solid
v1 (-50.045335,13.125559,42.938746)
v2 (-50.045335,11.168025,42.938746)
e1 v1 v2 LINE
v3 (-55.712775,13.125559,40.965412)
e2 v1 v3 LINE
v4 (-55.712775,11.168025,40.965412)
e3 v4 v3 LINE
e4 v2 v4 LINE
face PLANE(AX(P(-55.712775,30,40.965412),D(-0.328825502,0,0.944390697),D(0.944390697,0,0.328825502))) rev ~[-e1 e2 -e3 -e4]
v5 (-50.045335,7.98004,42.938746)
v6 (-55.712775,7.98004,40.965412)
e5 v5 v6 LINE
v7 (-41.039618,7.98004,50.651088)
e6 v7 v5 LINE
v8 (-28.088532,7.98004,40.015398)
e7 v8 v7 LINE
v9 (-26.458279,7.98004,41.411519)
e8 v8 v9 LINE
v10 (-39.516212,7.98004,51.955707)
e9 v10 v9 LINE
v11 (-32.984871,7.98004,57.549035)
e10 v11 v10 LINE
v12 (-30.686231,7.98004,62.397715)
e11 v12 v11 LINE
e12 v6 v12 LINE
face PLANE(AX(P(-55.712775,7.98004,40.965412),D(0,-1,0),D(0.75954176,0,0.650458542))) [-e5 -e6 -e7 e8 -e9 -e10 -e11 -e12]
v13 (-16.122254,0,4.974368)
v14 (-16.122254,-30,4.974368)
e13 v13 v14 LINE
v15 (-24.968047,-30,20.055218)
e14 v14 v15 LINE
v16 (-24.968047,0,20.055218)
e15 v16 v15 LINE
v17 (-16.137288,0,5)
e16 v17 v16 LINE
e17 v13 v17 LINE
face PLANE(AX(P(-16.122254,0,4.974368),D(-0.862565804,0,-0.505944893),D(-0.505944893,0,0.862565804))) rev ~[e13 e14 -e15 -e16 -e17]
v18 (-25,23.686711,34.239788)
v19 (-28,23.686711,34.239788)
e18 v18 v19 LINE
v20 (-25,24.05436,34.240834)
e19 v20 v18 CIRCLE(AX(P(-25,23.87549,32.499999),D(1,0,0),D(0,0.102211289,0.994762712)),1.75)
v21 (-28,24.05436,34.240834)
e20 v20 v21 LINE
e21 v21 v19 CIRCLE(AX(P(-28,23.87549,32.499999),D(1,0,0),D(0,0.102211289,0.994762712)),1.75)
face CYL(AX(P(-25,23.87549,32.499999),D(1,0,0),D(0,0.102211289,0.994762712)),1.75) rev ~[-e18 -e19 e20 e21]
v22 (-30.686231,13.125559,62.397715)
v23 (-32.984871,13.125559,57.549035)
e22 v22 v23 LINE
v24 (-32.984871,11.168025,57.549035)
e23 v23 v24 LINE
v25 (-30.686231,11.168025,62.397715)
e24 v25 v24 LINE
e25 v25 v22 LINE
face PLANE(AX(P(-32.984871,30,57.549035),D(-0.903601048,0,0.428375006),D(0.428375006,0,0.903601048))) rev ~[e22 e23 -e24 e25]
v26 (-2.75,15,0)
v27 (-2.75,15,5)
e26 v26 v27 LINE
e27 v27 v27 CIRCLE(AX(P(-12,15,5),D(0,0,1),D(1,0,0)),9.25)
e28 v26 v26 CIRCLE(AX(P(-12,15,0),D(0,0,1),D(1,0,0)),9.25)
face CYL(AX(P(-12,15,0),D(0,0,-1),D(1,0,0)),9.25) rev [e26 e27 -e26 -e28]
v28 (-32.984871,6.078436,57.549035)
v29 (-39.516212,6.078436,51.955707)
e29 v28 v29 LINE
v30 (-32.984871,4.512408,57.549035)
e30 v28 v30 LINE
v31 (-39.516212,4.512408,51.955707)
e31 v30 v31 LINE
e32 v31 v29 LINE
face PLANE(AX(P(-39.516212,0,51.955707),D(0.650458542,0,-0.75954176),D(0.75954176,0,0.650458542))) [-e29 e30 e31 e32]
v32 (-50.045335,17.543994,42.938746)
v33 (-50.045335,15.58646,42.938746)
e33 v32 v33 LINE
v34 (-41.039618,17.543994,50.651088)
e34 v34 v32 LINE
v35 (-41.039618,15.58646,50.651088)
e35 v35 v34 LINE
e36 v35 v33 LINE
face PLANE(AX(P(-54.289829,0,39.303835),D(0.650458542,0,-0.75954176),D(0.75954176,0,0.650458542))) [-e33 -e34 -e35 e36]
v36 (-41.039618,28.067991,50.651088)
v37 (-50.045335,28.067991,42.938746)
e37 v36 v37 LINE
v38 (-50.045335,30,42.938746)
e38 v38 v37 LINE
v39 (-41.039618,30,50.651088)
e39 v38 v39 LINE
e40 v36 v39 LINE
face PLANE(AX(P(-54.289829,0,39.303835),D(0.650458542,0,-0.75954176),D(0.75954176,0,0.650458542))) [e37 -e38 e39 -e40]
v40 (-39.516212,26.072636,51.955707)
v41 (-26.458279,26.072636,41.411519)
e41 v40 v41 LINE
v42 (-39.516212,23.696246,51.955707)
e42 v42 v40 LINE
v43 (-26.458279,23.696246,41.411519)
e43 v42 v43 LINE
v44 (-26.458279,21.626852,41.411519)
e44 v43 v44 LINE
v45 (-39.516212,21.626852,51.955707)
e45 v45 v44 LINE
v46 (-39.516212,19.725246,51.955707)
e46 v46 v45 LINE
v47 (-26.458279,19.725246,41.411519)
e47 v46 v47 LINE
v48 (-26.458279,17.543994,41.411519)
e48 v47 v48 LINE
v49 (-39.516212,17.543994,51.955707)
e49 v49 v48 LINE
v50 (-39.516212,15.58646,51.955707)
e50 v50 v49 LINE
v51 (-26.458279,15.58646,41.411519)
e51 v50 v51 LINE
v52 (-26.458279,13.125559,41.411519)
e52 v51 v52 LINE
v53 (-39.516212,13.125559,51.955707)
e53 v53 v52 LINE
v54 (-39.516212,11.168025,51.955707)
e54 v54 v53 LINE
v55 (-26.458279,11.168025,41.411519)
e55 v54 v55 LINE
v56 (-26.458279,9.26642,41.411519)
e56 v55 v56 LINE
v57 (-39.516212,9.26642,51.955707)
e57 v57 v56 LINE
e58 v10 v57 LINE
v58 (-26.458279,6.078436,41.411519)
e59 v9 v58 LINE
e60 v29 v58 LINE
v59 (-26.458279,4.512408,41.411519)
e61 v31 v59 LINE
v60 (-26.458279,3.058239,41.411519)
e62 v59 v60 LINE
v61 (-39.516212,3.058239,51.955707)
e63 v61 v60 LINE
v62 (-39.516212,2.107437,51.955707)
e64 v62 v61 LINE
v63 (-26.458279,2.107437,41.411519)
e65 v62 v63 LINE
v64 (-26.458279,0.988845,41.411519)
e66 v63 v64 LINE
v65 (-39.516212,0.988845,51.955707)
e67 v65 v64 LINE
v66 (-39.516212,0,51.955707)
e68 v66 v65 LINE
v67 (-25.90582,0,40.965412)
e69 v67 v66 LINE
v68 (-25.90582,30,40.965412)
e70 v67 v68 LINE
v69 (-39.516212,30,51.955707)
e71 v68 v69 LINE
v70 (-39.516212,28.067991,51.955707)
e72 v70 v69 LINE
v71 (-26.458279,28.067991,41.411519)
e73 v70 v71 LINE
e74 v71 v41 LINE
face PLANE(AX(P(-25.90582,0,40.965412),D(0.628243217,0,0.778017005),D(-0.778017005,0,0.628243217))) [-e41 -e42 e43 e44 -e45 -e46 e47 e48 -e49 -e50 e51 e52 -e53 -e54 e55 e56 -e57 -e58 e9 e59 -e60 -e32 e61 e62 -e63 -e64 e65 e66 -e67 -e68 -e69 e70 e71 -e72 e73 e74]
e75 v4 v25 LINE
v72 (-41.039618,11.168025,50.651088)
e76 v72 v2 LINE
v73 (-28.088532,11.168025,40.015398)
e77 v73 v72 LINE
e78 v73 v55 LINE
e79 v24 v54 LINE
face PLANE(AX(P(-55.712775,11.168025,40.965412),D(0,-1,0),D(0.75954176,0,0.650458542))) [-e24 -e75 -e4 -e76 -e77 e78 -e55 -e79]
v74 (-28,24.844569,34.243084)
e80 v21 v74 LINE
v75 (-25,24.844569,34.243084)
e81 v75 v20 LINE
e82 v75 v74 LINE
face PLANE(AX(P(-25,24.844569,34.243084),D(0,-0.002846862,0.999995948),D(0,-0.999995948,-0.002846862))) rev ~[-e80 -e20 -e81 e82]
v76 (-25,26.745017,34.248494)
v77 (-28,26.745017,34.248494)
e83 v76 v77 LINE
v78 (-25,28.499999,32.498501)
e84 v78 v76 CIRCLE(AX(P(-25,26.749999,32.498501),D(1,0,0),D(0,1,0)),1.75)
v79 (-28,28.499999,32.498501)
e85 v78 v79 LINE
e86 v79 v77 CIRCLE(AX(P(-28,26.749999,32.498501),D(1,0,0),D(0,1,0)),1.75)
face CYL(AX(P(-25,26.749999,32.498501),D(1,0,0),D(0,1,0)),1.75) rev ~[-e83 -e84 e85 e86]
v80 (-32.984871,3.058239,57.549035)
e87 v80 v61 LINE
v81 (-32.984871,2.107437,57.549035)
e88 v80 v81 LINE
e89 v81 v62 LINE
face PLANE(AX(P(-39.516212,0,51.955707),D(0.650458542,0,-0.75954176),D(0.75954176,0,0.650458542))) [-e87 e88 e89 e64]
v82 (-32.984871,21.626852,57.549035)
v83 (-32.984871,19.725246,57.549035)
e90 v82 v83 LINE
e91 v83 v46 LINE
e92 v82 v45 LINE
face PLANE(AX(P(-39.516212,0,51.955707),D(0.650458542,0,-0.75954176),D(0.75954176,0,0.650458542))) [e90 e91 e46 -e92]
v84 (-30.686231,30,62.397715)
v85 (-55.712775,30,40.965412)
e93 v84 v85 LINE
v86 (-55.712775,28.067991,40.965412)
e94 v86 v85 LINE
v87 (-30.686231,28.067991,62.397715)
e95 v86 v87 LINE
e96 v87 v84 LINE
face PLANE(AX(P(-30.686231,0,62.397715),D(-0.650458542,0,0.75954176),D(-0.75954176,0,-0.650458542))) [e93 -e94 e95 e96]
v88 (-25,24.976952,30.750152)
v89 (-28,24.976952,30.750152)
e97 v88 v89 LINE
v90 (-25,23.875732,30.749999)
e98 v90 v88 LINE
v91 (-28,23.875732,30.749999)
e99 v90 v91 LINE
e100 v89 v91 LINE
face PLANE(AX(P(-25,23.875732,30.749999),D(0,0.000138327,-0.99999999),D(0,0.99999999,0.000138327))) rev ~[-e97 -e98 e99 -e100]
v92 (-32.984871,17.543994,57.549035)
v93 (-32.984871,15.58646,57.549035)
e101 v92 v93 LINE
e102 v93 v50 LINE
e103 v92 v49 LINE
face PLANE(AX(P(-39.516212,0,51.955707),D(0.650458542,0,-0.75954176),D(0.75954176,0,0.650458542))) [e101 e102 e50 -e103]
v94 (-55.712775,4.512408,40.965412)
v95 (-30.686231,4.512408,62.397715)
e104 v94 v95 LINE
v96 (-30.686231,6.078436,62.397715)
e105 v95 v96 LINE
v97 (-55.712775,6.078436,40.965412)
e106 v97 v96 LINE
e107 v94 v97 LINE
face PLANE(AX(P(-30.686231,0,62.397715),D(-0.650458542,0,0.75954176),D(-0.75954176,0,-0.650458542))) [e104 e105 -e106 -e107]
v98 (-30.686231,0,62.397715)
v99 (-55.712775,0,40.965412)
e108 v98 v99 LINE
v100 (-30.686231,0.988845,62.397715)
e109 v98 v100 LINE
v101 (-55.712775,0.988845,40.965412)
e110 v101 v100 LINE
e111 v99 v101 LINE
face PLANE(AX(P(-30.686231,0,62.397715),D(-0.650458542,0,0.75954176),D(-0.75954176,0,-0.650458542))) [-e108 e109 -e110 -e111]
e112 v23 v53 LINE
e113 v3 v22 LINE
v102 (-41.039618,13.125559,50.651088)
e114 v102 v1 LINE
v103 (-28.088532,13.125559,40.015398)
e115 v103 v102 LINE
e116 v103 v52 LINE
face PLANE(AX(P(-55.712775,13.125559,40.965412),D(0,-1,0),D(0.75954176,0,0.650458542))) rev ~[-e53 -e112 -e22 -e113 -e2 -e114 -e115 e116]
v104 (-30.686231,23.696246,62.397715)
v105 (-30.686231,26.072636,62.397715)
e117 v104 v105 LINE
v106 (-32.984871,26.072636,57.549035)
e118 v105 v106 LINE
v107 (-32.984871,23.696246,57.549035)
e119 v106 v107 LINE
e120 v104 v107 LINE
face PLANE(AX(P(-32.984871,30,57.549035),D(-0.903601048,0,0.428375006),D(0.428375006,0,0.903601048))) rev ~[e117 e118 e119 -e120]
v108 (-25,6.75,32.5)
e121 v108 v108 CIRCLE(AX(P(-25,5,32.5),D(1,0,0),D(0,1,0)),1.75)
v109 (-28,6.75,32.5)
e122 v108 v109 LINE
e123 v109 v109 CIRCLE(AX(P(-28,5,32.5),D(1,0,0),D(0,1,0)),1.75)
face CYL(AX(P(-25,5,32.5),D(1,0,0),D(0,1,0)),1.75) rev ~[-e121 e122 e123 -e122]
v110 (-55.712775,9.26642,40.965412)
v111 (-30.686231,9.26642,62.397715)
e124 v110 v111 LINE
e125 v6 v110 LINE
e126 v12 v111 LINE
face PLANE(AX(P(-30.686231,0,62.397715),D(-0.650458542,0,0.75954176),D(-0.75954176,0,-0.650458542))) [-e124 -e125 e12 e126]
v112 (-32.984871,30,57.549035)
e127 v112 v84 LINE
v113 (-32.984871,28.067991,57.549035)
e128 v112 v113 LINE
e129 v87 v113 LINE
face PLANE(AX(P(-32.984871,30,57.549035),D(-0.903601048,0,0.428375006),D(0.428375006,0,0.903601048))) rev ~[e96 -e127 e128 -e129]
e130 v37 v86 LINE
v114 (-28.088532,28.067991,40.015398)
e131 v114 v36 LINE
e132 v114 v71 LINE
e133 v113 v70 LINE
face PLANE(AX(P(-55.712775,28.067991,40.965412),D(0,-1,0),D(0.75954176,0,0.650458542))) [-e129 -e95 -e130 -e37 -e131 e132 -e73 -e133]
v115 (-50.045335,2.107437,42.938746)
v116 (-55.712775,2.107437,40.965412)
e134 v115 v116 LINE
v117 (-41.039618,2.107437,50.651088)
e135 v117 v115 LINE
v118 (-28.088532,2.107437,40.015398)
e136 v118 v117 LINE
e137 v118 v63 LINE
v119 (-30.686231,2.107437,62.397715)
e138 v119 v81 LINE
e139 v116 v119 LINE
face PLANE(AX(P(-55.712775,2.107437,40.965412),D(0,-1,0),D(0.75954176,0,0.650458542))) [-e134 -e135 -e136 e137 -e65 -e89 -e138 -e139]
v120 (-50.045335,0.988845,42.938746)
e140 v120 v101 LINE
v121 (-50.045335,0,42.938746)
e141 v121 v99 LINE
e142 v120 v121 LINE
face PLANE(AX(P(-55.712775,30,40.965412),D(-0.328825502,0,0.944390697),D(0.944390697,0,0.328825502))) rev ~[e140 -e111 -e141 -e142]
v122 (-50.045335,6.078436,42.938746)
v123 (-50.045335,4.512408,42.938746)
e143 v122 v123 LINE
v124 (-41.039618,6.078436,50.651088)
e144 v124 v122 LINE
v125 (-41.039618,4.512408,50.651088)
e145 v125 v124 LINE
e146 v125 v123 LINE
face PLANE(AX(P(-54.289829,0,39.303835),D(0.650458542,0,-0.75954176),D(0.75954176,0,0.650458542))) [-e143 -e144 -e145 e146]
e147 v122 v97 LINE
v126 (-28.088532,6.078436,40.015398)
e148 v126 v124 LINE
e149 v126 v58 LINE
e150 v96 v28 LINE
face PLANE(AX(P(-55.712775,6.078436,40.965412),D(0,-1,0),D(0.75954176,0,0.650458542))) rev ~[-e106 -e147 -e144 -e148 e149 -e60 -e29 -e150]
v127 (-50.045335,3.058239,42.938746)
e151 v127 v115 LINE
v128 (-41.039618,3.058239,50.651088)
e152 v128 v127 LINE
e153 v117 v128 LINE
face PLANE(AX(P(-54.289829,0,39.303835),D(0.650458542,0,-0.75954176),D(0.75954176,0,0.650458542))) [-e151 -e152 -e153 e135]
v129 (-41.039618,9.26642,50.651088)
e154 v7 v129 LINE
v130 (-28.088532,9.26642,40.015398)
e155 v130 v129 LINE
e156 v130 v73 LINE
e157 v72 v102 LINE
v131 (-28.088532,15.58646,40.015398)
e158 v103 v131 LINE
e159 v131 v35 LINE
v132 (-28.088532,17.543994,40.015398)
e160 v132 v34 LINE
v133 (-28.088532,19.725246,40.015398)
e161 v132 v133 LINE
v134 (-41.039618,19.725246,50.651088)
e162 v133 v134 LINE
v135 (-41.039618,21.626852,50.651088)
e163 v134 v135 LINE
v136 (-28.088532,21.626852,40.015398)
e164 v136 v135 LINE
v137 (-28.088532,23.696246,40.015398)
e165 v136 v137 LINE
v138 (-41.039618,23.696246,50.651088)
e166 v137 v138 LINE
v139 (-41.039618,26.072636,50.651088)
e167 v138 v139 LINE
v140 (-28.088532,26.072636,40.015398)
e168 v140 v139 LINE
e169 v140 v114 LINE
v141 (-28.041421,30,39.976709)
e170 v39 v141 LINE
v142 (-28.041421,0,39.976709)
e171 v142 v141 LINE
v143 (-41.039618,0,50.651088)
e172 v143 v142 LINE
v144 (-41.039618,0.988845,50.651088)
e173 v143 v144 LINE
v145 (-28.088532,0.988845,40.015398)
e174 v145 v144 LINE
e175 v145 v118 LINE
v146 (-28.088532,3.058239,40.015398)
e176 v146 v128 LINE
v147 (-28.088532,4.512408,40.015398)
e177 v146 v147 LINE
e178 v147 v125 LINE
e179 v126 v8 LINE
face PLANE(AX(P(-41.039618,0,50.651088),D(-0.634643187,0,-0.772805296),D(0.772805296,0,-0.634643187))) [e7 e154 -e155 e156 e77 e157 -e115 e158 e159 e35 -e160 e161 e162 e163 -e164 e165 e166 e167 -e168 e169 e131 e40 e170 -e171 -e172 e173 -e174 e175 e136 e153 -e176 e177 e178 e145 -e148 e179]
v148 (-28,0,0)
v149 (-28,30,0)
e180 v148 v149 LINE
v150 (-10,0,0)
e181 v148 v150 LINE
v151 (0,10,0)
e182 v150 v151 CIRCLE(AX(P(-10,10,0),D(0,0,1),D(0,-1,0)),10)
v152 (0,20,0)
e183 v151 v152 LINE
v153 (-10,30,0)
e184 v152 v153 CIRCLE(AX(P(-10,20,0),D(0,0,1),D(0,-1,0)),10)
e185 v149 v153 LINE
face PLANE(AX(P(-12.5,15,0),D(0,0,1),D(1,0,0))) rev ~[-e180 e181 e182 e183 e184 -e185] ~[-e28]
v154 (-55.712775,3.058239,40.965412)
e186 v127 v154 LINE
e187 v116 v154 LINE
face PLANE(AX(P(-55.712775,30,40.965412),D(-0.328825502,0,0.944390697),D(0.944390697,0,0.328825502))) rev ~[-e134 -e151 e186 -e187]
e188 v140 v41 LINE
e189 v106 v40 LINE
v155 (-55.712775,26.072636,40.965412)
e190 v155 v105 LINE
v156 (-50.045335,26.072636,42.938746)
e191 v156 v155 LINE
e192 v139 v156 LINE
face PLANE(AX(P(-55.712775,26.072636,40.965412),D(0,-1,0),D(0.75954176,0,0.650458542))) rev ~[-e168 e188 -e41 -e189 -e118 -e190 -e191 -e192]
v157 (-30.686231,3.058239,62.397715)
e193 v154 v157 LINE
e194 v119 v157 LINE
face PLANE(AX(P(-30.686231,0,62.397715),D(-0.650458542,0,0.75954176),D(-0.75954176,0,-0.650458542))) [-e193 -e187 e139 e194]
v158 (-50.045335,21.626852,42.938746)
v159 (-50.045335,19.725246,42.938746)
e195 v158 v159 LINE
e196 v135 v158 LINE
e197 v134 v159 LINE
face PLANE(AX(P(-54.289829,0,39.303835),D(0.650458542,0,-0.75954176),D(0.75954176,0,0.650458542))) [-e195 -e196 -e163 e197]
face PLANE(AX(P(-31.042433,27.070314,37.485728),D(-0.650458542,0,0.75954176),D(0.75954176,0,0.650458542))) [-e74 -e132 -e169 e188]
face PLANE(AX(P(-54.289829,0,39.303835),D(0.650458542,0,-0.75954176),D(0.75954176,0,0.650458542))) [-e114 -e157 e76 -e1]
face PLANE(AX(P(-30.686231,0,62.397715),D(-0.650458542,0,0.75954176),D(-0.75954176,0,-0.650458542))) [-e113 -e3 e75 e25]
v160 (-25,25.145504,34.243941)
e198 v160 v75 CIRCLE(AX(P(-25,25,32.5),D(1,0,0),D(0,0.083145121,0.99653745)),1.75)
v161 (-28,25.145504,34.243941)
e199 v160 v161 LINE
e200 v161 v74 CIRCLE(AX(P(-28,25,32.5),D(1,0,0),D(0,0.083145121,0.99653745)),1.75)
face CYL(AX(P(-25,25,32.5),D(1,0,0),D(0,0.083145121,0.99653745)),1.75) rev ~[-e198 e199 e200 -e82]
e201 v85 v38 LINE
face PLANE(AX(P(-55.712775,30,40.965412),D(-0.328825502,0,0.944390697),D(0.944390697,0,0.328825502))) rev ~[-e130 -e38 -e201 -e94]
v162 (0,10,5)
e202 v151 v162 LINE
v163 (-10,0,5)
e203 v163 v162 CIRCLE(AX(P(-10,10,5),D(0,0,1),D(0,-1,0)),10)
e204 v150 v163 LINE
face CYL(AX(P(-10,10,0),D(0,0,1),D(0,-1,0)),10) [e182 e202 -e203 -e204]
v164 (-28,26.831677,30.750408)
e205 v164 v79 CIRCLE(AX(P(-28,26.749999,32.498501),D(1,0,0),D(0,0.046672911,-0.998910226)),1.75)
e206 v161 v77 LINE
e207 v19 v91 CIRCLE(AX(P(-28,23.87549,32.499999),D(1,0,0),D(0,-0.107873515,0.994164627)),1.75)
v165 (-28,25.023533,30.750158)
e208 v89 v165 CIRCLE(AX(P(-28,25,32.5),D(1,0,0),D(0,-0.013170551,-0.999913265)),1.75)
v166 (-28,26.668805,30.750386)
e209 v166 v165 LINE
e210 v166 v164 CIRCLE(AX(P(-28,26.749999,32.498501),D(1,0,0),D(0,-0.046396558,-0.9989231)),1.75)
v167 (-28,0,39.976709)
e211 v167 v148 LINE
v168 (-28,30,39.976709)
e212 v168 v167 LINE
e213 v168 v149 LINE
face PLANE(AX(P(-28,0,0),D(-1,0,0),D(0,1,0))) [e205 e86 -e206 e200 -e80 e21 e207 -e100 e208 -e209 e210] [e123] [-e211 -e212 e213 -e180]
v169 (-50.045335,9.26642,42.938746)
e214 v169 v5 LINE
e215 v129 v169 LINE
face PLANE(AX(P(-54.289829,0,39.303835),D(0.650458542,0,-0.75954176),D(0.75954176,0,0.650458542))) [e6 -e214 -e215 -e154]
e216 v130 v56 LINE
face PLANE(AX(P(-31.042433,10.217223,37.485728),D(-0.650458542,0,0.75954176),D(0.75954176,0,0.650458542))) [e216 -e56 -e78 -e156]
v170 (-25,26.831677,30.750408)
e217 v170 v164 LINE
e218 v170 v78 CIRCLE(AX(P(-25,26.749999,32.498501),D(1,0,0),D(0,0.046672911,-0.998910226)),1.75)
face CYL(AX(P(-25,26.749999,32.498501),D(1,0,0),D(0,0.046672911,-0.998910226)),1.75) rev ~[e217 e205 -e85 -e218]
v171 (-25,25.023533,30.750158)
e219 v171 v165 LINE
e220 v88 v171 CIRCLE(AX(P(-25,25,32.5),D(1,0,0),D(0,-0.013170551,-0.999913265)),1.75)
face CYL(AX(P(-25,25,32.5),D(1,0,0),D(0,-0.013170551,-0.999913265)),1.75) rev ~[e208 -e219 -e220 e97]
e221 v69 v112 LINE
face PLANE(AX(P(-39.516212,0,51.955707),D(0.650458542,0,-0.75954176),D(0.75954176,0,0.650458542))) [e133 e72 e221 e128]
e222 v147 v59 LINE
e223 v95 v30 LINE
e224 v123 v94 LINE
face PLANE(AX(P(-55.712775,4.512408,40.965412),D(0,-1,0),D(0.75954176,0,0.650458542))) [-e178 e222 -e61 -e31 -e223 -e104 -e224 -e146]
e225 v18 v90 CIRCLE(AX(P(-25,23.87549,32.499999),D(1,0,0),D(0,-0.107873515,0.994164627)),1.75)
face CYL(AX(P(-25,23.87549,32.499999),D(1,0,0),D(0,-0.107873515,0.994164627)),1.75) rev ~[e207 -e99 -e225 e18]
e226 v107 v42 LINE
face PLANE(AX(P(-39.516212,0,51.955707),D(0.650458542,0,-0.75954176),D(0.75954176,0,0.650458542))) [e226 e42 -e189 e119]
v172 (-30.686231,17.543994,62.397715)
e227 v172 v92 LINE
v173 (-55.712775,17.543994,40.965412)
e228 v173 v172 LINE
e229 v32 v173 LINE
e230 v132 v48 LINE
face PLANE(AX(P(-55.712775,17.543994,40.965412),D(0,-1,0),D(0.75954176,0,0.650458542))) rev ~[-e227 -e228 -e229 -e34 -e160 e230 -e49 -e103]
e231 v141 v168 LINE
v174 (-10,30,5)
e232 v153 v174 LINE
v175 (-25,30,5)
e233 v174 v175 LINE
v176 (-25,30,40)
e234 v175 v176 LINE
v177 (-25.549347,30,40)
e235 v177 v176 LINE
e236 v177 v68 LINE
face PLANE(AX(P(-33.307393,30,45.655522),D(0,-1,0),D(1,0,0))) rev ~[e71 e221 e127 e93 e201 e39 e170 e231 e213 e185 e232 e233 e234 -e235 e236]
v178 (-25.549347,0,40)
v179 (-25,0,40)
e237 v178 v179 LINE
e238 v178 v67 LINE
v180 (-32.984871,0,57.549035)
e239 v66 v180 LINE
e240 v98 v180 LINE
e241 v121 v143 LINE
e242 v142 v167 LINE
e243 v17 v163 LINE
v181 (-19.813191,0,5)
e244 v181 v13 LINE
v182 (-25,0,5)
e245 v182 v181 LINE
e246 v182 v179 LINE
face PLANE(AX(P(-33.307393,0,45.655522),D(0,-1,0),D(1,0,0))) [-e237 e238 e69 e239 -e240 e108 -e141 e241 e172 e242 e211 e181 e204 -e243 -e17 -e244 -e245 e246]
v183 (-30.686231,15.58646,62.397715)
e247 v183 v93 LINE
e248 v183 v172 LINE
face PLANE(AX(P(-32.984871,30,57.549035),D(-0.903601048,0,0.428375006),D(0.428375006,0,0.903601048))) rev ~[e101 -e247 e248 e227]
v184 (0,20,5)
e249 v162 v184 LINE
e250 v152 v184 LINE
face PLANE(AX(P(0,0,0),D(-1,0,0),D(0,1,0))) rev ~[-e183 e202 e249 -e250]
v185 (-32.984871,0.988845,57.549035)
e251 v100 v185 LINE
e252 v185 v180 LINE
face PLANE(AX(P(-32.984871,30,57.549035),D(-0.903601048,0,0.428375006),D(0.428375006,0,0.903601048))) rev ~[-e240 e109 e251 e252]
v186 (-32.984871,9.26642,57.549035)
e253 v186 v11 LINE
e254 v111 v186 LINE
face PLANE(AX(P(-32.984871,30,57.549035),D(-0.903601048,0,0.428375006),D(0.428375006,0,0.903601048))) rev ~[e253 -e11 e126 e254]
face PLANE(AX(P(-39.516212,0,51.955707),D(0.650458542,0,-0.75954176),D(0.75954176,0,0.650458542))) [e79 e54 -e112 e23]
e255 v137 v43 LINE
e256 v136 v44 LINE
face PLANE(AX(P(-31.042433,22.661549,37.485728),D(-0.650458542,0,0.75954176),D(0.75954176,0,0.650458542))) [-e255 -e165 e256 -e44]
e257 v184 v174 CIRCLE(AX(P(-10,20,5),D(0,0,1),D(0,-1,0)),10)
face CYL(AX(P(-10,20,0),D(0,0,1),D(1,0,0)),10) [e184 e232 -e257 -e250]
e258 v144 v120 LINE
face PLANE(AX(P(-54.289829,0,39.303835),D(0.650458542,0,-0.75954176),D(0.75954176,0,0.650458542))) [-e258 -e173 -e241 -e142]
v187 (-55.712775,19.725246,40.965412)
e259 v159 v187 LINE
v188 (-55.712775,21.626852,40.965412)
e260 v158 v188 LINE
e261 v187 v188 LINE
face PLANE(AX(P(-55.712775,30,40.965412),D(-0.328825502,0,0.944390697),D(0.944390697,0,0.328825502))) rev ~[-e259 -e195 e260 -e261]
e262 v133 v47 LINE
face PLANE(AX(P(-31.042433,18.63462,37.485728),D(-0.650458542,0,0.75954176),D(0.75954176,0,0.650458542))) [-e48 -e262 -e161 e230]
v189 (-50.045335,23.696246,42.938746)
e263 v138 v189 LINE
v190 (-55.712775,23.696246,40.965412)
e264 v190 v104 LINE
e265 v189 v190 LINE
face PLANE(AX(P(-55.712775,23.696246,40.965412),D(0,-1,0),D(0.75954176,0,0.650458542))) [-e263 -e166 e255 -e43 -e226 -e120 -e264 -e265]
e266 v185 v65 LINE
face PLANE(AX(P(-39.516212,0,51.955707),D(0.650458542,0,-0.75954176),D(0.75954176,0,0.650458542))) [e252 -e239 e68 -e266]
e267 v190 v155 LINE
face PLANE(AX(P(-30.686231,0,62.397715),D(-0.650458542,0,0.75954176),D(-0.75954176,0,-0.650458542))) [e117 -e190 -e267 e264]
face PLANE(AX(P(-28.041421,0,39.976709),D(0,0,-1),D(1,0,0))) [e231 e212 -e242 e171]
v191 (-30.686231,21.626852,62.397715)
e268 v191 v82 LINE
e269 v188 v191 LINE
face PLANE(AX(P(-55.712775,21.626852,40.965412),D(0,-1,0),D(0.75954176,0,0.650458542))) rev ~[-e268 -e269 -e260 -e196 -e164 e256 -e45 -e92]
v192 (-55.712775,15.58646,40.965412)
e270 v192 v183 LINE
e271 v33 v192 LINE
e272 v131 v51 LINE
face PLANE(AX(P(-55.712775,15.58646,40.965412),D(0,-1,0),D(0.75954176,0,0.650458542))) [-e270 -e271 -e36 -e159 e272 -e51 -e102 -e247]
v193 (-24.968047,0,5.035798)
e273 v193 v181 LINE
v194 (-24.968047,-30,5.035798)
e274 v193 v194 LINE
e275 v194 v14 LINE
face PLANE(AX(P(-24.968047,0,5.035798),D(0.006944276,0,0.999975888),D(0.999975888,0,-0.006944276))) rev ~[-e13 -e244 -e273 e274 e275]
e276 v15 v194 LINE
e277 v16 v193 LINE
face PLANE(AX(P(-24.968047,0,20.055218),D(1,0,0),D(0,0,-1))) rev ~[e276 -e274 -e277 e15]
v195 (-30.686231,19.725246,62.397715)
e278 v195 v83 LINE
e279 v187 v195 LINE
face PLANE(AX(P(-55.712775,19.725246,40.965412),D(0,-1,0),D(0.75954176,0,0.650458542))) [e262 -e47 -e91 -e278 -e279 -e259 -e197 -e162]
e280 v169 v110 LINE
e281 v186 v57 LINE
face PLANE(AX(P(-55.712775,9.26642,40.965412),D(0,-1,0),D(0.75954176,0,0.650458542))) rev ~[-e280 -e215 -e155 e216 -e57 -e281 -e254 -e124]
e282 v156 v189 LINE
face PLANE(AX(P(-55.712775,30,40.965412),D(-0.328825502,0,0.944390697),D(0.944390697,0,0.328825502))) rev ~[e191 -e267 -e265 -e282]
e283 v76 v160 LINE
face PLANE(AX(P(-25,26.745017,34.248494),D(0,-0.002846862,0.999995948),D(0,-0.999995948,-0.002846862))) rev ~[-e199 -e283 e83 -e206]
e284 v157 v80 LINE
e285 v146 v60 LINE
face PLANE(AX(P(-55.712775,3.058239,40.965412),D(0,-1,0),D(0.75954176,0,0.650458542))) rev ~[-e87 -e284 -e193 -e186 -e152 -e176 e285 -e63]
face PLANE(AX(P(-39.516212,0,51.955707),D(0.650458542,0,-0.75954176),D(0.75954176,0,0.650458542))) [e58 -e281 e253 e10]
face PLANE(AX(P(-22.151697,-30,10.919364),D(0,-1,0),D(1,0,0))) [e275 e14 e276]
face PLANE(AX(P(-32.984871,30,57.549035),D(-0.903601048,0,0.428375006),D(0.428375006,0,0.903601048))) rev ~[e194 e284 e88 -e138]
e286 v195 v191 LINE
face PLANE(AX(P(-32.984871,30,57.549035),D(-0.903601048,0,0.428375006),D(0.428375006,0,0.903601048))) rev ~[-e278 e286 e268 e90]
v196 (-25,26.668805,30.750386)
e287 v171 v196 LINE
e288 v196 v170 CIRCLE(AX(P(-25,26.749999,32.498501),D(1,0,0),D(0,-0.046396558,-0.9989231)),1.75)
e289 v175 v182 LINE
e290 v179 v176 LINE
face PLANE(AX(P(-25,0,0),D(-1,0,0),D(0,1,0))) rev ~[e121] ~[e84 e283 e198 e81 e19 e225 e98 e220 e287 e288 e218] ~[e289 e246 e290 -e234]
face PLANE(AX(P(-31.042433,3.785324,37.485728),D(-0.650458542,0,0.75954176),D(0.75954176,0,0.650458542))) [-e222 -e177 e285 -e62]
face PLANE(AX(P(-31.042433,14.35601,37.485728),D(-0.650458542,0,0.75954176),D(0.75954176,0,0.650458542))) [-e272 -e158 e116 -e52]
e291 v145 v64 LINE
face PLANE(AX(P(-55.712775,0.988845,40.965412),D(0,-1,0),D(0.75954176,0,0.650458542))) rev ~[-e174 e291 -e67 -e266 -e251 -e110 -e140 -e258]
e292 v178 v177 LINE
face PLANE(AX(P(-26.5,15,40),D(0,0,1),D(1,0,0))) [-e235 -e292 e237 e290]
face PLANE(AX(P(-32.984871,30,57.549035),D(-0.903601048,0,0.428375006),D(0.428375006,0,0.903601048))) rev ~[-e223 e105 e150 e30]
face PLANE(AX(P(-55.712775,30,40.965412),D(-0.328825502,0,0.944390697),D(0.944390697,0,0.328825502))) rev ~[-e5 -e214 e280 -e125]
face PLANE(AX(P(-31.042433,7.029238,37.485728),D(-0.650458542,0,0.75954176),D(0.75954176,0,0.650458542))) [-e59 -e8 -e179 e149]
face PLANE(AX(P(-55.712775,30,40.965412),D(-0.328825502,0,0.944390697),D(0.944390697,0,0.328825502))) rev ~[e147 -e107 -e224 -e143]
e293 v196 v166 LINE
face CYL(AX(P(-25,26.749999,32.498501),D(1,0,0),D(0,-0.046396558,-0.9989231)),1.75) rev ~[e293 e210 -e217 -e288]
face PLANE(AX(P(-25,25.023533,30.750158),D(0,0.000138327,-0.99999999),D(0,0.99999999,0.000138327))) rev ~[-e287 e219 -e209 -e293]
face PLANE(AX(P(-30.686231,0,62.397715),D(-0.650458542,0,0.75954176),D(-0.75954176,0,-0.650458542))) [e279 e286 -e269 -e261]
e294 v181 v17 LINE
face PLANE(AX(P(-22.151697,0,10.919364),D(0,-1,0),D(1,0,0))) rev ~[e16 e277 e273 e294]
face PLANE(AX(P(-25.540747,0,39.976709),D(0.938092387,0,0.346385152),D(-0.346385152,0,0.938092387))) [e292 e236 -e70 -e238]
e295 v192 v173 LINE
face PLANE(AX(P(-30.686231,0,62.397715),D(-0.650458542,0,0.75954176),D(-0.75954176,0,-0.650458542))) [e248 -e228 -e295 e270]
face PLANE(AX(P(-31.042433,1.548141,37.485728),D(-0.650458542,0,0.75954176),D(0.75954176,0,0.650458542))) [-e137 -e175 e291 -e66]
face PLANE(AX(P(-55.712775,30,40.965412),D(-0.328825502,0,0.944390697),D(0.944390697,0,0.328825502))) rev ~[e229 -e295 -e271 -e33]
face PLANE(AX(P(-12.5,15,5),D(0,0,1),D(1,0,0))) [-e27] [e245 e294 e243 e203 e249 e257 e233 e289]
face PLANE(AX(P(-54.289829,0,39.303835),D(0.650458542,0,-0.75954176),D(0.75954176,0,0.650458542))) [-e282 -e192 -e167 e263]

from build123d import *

# Parameters (mm, degrees)
F0_W      = 25
F0_H      = 30
F0_R      = 9.25
F0_W_2    = 3
F1_DEPTH  = 5
F2_DEPTH  = 40
F3_R      = 10
F4_R      = 1.75
F5_DEPTH  = 3.001
F7_DEPTH  = 30
F8_W      = 32.9495297466
F8_H      = 1.9953548908
F8_H_2    = 2.0693931729
F8_H_3    = 2.1812524647
F8_H_4    = 2.4609006941
F8_H_5    = 1.9016051665
F8_H_6    = 1.9016047008
F8_H_7    = 1.454168465
F8_H_8    = 1.1185912881
F9_DEPTH  = 18.69
F11_DEPTH = 30.001
F13_DEPTH = 30


with BuildPart() as f1:
    # F0 (on Top) → F1 (new body)
    with BuildSketch(Plane.XY):
        with Locations((-12.5, 15)):
            Rectangle(F0_W, F0_H)
        with Locations((-12, 15)):
            Circle(F0_R, mode=Mode.SUBTRACT)
        with Locations((-26.5, 15)):
            Rectangle(F0_W_2, F0_H)
    extrude(amount=F1_DEPTH)

    # F0 (on Top) → F2 (join)
    with BuildSketch(Plane.XY):
        with Locations((-26.5, 15)):
            Rectangle(F0_W_2, F0_H)
    extrude(amount=F2_DEPTH)

    # F3
    f3_edges = [f1.edges().sort_by_distance(p)[0] for p in [
        (0, 0, 2.5),
        (0, 30, 2.5),
    ]]
    fillet(f3_edges, radius=F3_R)

    # F4 (on face) → F5 (cut, through all)
    with BuildSketch(Plane.YZ.offset(-25)):
        with Locations((5, 32.5)):
            Circle(F4_R)
        with BuildLine():
            ThreePointArc((25.8762976423, 34.0147945214), (26.5159190074, 33.3743509381), (26.75, 32.5))
            ThreePointArc((26.75, 32.5), (26.5151696279, 31.6243510986), (25.8737017159, 30.9837067198))
            ThreePointArc((25.8737017159, 30.9837067198), (26.2572446424, 30.8193071518), (26.6688053839, 30.7503858164))
            Line((26.6688053839, 30.7503858164), (26.8316769531, 30.7504083459))
            ThreePointArc((26.8316769531, 30.7504083459), (28.015984309, 31.290286813), (28.4999993582, 32.4985012412))
            ThreePointArc((28.4999993582, 32.4985012412), (27.9856735638, 33.7376982625), (26.7450173494, 34.2484941496))
            ThreePointArc((26.7450173494, 34.2484941496), (26.2953839701, 34.1884198336), (25.8762976423, 34.0147945214))
        make_face()
        with BuildLine():
            ThreePointArc((25.313264961, 33.4976480132), (25.5661966357, 33.7873422376), (25.8762976423, 34.0147945214))
            ThreePointArc((25.8762976423, 34.0147945214), (25.5235901108, 34.1698363381), (25.1455039627, 34.2439405371))
            Line((25.1455039627, 34.2439405371), (24.8445689194, 34.243083813))
            ThreePointArc((24.8445689194, 34.243083813), (24.6385972754, 34.2122756994), (24.4377440921, 34.1572170329))
            ThreePointArc((24.4377440921, 34.1572170329), (24.9284794863, 33.8977522036), (25.313264961, 33.4976480132))
        make_face()
        with BuildLine():
            ThreePointArc((25.1455039627, 34.2439405371), (25.5235901108, 34.1698363381), (25.8762976423, 34.0147945214))
            ThreePointArc((25.8762976423, 34.0147945214), (26.2953839701, 34.1884198336), (26.7450173494, 34.2484941496))
            Line((26.7450173494, 34.2484941496), (25.1455039627, 34.2439405371))
        make_face()
        with BuildLine():
            ThreePointArc((26.6688053839, 30.7503858164), (26.2572446424, 30.8193071518), (25.8737017159, 30.9837067198))
            ThreePointArc((25.8737017159, 30.9837067198), (25.4635661352, 30.8125147591), (25.0235325622, 30.7501582304))
            Line((25.0235325622, 30.7501582304), (26.6688053839, 30.7503858164))
        make_face()
        with BuildLine():
            ThreePointArc((25.0235325622, 30.7501582304), (25.4635661352, 30.8125147591), (25.8737017159, 30.9837067198))
            ThreePointArc((25.8737017159, 30.9837067198), (25.5644222061, 31.2112923163), (25.3122242271, 31.5008526697))
            ThreePointArc((25.3122242271, 31.5008526697), (24.927751526, 31.1016985717), (24.4377457378, 30.8427824088))
            ThreePointArc((24.4377457378, 30.8427824088), (24.7037063498, 30.7752652167), (24.97695154, 30.750151787))
            Line((24.97695154, 30.750151787), (25.0235325622, 30.7501582304))
        make_face()
        with BuildLine():
            Line((24.8445689194, 34.243083813), (25.1455039627, 34.2439405371))
            ThreePointArc((25.1455039627, 34.2439405371), (24.9950179912, 34.2499929084), (24.8445689194, 34.243083813))
        make_face()
        with BuildLine():
            ThreePointArc((24.97695154, 30.750151787), (25.0002420726, 30.7500000167), (25.0235325622, 30.7501582304))
            Line((25.0235325622, 30.7501582304), (24.97695154, 30.750151787))
        make_face()
        with BuildLine():
            Line((26.8316769531, 30.7504083459), (26.6688053839, 30.7503858164))
            ThreePointArc((26.6688053839, 30.7503858164), (26.7502414308, 30.7485012579), (26.8316769531, 30.7504083459))
        make_face()
        with BuildLine():
            ThreePointArc((24.4377440921, 34.1572170329), (24.6385972754, 34.2122756994), (24.8445689194, 34.243083813))
            Line((24.8445689194, 34.243083813), (24.0543595868, 34.2408341869))
            ThreePointArc((24.0543595868, 34.2408341869), (24.248402903, 34.2098052318), (24.4377440921, 34.1572170329))
        make_face()
        with BuildLine():
            ThreePointArc((24.4377457378, 30.8427824088), (23.25, 32.4999991311), (24.4377440921, 34.1572170329))
            ThreePointArc((24.4377440921, 34.1572170329), (24.248402903, 34.2098052318), (24.0543595868, 34.2408341869))
            Line((24.0543595868, 34.2408341869), (23.6867111794, 34.2397875383))
            ThreePointArc((23.6867111794, 34.2397875383), (22.1280512127, 32.4053512558), (23.8757319025, 30.7499994584))
            ThreePointArc((23.8757319025, 30.7499994584), (24.1605392352, 30.7733706928), (24.4377457378, 30.8427824088))
        make_face()
        with BuildLine():
            Line((23.8757319025, 30.7499994584), (24.97695154, 30.750151787))
            ThreePointArc((24.97695154, 30.750151787), (24.7037063498, 30.7752652167), (24.4377457378, 30.8427824088))
            ThreePointArc((24.4377457378, 30.8427824088), (24.1605392352, 30.7733706928), (23.8757319025, 30.7499994584))
        make_face()
        with BuildLine():
            Line((23.6867111794, 34.2397875383), (24.0543595868, 34.2408341869))
            ThreePointArc((24.0543595868, 34.2408341869), (23.8705078211, 34.2499923501), (23.6867111794, 34.2397875383))
        make_face()
        with BuildLine():
            ThreePointArc((25.8737017159, 30.9837067198), (26.5151696279, 31.6243510986), (26.75, 32.5))
            ThreePointArc((26.75, 32.5), (26.5159190074, 33.3743509381), (25.8762976423, 34.0147945214))
            ThreePointArc((25.8762976423, 34.0147945214), (25.5661966357, 33.7873422376), (25.313264961, 33.4976480132))
            ThreePointArc((25.313264961, 33.4976480132), (25.545610556, 33.0226817163), (25.6254898299, 32.4999994417))
            ThreePointArc((25.6254898299, 32.4999994417), (25.5453379061, 31.9764467676), (25.3122242271, 31.5008526697))
            ThreePointArc((25.3122242271, 31.5008526697), (25.5644222061, 31.2112923163), (25.8737017159, 30.9837067198))
        make_face()
        with BuildLine():
            ThreePointArc((25.3122242271, 31.5008526697), (24.9999995959, 32.4994133448), (25.313264961, 33.4976480132))
            ThreePointArc((25.313264961, 33.4976480132), (24.9284794863, 33.8977522036), (24.4377440921, 34.1572170329))
            ThreePointArc((24.4377440921, 34.1572170329), (23.25, 32.4999991311), (24.4377457378, 30.8427824088))
            ThreePointArc((24.4377457378, 30.8427824088), (24.927751526, 31.1016985717), (25.3122242271, 31.5008526697))
        make_face()
        with BuildLine():
            ThreePointArc((25.6254898299, 32.4999994417), (25.545610556, 33.0226817163), (25.313264961, 33.4976480132))
            ThreePointArc((25.313264961, 33.4976480132), (24.9999995959, 32.4994133448), (25.3122242271, 31.5008526697))
            ThreePointArc((25.3122242271, 31.5008526697), (25.5453379061, 31.9764467676), (25.6254898299, 32.4999994417))
        make_face()
    extrude(amount=-F5_DEPTH, mode=Mode.SUBTRACT)

    # F6 (on Front) → F7 (join)
    with BuildSketch(Plane.XZ):
        Polygon((-25.9058196098, 40.9654118121), (-39.5162117863, 51.9557070245), (-41.0396176132, 50.6510883904), (-28.0414205045, 39.976708591), (-25.5407467018, 39.976708591), align=None)
        Polygon((-29.4997693367, 60.5336166234), (-30.6862313423, 62.3977148942), (-55.7127751532, 40.9654118121), (-54.2898289063, 39.3038345914), (-41.0396176132, 50.6510883904), (-39.5162117863, 51.9557070245), align=None)
    extrude(amount=-F7_DEPTH)

    # F8 (on face) → F9 (cut)
    with BuildSketch(Plane(origin=(-43.8108490147, 0, 51.1580173188), x_dir=(0.7595417599, 0, 0.6504585421), z_dir=(-0.6504585421, 0, 0.7595417599))):
        with Locations((0.8048876299, 27.0703136921)):
            Rectangle(F8_W, F8_H)
        with Locations((0.8048876299, 22.6615490392)):
            Rectangle(F8_W, F8_H_2)
        with Locations((0.8048876299, 18.6346201226)):
            Rectangle(F8_W, F8_H_3)
        with Locations((0.8048876299, 14.3560096622)):
            Rectangle(F8_W, F8_H_4)
        with Locations((0.8048876299, 10.2172228508)):
            Rectangle(F8_W, F8_H_5)
        with Locations((0.8048876299, 7.0292379241)):
            Rectangle(F8_W, F8_H_6)
        with Locations((0.8048876299, 3.7853235845)):
            Rectangle(F8_W, F8_H_7)
        with Locations((0.8048876299, 1.5481411247)):
            Rectangle(F8_W, F8_H_8)
    extrude(amount=-F9_DEPTH, mode=Mode.SUBTRACT)

    # F10 (on face) → F11 (cut, through all)
    with BuildSketch(Plane(origin=(0, 30, 0), x_dir=(-1, 0, 0), z_dir=(0, 1, 0))):
        Polygon((32.9848708997, 57.549035391), (30.6862313423, 62.3977148942), (29.4997693367, 60.5336166234), align=None)
        Polygon((50.0453349621, 42.9387464406), (54.2898289063, 39.3038345914), (55.7127751532, 40.9654118121), align=None)
    extrude(amount=-F11_DEPTH, mode=Mode.SUBTRACT)

    # F12 (on Front) → F13 (join)
    with BuildSketch(Plane.XZ):
        Polygon((-24.968046695, 20.0552176684), (-24.968046695, 5.0357975997), (-16.1222536117, 4.974368494), align=None)
    extrude(amount=F13_DEPTH)


solid = f1.part
